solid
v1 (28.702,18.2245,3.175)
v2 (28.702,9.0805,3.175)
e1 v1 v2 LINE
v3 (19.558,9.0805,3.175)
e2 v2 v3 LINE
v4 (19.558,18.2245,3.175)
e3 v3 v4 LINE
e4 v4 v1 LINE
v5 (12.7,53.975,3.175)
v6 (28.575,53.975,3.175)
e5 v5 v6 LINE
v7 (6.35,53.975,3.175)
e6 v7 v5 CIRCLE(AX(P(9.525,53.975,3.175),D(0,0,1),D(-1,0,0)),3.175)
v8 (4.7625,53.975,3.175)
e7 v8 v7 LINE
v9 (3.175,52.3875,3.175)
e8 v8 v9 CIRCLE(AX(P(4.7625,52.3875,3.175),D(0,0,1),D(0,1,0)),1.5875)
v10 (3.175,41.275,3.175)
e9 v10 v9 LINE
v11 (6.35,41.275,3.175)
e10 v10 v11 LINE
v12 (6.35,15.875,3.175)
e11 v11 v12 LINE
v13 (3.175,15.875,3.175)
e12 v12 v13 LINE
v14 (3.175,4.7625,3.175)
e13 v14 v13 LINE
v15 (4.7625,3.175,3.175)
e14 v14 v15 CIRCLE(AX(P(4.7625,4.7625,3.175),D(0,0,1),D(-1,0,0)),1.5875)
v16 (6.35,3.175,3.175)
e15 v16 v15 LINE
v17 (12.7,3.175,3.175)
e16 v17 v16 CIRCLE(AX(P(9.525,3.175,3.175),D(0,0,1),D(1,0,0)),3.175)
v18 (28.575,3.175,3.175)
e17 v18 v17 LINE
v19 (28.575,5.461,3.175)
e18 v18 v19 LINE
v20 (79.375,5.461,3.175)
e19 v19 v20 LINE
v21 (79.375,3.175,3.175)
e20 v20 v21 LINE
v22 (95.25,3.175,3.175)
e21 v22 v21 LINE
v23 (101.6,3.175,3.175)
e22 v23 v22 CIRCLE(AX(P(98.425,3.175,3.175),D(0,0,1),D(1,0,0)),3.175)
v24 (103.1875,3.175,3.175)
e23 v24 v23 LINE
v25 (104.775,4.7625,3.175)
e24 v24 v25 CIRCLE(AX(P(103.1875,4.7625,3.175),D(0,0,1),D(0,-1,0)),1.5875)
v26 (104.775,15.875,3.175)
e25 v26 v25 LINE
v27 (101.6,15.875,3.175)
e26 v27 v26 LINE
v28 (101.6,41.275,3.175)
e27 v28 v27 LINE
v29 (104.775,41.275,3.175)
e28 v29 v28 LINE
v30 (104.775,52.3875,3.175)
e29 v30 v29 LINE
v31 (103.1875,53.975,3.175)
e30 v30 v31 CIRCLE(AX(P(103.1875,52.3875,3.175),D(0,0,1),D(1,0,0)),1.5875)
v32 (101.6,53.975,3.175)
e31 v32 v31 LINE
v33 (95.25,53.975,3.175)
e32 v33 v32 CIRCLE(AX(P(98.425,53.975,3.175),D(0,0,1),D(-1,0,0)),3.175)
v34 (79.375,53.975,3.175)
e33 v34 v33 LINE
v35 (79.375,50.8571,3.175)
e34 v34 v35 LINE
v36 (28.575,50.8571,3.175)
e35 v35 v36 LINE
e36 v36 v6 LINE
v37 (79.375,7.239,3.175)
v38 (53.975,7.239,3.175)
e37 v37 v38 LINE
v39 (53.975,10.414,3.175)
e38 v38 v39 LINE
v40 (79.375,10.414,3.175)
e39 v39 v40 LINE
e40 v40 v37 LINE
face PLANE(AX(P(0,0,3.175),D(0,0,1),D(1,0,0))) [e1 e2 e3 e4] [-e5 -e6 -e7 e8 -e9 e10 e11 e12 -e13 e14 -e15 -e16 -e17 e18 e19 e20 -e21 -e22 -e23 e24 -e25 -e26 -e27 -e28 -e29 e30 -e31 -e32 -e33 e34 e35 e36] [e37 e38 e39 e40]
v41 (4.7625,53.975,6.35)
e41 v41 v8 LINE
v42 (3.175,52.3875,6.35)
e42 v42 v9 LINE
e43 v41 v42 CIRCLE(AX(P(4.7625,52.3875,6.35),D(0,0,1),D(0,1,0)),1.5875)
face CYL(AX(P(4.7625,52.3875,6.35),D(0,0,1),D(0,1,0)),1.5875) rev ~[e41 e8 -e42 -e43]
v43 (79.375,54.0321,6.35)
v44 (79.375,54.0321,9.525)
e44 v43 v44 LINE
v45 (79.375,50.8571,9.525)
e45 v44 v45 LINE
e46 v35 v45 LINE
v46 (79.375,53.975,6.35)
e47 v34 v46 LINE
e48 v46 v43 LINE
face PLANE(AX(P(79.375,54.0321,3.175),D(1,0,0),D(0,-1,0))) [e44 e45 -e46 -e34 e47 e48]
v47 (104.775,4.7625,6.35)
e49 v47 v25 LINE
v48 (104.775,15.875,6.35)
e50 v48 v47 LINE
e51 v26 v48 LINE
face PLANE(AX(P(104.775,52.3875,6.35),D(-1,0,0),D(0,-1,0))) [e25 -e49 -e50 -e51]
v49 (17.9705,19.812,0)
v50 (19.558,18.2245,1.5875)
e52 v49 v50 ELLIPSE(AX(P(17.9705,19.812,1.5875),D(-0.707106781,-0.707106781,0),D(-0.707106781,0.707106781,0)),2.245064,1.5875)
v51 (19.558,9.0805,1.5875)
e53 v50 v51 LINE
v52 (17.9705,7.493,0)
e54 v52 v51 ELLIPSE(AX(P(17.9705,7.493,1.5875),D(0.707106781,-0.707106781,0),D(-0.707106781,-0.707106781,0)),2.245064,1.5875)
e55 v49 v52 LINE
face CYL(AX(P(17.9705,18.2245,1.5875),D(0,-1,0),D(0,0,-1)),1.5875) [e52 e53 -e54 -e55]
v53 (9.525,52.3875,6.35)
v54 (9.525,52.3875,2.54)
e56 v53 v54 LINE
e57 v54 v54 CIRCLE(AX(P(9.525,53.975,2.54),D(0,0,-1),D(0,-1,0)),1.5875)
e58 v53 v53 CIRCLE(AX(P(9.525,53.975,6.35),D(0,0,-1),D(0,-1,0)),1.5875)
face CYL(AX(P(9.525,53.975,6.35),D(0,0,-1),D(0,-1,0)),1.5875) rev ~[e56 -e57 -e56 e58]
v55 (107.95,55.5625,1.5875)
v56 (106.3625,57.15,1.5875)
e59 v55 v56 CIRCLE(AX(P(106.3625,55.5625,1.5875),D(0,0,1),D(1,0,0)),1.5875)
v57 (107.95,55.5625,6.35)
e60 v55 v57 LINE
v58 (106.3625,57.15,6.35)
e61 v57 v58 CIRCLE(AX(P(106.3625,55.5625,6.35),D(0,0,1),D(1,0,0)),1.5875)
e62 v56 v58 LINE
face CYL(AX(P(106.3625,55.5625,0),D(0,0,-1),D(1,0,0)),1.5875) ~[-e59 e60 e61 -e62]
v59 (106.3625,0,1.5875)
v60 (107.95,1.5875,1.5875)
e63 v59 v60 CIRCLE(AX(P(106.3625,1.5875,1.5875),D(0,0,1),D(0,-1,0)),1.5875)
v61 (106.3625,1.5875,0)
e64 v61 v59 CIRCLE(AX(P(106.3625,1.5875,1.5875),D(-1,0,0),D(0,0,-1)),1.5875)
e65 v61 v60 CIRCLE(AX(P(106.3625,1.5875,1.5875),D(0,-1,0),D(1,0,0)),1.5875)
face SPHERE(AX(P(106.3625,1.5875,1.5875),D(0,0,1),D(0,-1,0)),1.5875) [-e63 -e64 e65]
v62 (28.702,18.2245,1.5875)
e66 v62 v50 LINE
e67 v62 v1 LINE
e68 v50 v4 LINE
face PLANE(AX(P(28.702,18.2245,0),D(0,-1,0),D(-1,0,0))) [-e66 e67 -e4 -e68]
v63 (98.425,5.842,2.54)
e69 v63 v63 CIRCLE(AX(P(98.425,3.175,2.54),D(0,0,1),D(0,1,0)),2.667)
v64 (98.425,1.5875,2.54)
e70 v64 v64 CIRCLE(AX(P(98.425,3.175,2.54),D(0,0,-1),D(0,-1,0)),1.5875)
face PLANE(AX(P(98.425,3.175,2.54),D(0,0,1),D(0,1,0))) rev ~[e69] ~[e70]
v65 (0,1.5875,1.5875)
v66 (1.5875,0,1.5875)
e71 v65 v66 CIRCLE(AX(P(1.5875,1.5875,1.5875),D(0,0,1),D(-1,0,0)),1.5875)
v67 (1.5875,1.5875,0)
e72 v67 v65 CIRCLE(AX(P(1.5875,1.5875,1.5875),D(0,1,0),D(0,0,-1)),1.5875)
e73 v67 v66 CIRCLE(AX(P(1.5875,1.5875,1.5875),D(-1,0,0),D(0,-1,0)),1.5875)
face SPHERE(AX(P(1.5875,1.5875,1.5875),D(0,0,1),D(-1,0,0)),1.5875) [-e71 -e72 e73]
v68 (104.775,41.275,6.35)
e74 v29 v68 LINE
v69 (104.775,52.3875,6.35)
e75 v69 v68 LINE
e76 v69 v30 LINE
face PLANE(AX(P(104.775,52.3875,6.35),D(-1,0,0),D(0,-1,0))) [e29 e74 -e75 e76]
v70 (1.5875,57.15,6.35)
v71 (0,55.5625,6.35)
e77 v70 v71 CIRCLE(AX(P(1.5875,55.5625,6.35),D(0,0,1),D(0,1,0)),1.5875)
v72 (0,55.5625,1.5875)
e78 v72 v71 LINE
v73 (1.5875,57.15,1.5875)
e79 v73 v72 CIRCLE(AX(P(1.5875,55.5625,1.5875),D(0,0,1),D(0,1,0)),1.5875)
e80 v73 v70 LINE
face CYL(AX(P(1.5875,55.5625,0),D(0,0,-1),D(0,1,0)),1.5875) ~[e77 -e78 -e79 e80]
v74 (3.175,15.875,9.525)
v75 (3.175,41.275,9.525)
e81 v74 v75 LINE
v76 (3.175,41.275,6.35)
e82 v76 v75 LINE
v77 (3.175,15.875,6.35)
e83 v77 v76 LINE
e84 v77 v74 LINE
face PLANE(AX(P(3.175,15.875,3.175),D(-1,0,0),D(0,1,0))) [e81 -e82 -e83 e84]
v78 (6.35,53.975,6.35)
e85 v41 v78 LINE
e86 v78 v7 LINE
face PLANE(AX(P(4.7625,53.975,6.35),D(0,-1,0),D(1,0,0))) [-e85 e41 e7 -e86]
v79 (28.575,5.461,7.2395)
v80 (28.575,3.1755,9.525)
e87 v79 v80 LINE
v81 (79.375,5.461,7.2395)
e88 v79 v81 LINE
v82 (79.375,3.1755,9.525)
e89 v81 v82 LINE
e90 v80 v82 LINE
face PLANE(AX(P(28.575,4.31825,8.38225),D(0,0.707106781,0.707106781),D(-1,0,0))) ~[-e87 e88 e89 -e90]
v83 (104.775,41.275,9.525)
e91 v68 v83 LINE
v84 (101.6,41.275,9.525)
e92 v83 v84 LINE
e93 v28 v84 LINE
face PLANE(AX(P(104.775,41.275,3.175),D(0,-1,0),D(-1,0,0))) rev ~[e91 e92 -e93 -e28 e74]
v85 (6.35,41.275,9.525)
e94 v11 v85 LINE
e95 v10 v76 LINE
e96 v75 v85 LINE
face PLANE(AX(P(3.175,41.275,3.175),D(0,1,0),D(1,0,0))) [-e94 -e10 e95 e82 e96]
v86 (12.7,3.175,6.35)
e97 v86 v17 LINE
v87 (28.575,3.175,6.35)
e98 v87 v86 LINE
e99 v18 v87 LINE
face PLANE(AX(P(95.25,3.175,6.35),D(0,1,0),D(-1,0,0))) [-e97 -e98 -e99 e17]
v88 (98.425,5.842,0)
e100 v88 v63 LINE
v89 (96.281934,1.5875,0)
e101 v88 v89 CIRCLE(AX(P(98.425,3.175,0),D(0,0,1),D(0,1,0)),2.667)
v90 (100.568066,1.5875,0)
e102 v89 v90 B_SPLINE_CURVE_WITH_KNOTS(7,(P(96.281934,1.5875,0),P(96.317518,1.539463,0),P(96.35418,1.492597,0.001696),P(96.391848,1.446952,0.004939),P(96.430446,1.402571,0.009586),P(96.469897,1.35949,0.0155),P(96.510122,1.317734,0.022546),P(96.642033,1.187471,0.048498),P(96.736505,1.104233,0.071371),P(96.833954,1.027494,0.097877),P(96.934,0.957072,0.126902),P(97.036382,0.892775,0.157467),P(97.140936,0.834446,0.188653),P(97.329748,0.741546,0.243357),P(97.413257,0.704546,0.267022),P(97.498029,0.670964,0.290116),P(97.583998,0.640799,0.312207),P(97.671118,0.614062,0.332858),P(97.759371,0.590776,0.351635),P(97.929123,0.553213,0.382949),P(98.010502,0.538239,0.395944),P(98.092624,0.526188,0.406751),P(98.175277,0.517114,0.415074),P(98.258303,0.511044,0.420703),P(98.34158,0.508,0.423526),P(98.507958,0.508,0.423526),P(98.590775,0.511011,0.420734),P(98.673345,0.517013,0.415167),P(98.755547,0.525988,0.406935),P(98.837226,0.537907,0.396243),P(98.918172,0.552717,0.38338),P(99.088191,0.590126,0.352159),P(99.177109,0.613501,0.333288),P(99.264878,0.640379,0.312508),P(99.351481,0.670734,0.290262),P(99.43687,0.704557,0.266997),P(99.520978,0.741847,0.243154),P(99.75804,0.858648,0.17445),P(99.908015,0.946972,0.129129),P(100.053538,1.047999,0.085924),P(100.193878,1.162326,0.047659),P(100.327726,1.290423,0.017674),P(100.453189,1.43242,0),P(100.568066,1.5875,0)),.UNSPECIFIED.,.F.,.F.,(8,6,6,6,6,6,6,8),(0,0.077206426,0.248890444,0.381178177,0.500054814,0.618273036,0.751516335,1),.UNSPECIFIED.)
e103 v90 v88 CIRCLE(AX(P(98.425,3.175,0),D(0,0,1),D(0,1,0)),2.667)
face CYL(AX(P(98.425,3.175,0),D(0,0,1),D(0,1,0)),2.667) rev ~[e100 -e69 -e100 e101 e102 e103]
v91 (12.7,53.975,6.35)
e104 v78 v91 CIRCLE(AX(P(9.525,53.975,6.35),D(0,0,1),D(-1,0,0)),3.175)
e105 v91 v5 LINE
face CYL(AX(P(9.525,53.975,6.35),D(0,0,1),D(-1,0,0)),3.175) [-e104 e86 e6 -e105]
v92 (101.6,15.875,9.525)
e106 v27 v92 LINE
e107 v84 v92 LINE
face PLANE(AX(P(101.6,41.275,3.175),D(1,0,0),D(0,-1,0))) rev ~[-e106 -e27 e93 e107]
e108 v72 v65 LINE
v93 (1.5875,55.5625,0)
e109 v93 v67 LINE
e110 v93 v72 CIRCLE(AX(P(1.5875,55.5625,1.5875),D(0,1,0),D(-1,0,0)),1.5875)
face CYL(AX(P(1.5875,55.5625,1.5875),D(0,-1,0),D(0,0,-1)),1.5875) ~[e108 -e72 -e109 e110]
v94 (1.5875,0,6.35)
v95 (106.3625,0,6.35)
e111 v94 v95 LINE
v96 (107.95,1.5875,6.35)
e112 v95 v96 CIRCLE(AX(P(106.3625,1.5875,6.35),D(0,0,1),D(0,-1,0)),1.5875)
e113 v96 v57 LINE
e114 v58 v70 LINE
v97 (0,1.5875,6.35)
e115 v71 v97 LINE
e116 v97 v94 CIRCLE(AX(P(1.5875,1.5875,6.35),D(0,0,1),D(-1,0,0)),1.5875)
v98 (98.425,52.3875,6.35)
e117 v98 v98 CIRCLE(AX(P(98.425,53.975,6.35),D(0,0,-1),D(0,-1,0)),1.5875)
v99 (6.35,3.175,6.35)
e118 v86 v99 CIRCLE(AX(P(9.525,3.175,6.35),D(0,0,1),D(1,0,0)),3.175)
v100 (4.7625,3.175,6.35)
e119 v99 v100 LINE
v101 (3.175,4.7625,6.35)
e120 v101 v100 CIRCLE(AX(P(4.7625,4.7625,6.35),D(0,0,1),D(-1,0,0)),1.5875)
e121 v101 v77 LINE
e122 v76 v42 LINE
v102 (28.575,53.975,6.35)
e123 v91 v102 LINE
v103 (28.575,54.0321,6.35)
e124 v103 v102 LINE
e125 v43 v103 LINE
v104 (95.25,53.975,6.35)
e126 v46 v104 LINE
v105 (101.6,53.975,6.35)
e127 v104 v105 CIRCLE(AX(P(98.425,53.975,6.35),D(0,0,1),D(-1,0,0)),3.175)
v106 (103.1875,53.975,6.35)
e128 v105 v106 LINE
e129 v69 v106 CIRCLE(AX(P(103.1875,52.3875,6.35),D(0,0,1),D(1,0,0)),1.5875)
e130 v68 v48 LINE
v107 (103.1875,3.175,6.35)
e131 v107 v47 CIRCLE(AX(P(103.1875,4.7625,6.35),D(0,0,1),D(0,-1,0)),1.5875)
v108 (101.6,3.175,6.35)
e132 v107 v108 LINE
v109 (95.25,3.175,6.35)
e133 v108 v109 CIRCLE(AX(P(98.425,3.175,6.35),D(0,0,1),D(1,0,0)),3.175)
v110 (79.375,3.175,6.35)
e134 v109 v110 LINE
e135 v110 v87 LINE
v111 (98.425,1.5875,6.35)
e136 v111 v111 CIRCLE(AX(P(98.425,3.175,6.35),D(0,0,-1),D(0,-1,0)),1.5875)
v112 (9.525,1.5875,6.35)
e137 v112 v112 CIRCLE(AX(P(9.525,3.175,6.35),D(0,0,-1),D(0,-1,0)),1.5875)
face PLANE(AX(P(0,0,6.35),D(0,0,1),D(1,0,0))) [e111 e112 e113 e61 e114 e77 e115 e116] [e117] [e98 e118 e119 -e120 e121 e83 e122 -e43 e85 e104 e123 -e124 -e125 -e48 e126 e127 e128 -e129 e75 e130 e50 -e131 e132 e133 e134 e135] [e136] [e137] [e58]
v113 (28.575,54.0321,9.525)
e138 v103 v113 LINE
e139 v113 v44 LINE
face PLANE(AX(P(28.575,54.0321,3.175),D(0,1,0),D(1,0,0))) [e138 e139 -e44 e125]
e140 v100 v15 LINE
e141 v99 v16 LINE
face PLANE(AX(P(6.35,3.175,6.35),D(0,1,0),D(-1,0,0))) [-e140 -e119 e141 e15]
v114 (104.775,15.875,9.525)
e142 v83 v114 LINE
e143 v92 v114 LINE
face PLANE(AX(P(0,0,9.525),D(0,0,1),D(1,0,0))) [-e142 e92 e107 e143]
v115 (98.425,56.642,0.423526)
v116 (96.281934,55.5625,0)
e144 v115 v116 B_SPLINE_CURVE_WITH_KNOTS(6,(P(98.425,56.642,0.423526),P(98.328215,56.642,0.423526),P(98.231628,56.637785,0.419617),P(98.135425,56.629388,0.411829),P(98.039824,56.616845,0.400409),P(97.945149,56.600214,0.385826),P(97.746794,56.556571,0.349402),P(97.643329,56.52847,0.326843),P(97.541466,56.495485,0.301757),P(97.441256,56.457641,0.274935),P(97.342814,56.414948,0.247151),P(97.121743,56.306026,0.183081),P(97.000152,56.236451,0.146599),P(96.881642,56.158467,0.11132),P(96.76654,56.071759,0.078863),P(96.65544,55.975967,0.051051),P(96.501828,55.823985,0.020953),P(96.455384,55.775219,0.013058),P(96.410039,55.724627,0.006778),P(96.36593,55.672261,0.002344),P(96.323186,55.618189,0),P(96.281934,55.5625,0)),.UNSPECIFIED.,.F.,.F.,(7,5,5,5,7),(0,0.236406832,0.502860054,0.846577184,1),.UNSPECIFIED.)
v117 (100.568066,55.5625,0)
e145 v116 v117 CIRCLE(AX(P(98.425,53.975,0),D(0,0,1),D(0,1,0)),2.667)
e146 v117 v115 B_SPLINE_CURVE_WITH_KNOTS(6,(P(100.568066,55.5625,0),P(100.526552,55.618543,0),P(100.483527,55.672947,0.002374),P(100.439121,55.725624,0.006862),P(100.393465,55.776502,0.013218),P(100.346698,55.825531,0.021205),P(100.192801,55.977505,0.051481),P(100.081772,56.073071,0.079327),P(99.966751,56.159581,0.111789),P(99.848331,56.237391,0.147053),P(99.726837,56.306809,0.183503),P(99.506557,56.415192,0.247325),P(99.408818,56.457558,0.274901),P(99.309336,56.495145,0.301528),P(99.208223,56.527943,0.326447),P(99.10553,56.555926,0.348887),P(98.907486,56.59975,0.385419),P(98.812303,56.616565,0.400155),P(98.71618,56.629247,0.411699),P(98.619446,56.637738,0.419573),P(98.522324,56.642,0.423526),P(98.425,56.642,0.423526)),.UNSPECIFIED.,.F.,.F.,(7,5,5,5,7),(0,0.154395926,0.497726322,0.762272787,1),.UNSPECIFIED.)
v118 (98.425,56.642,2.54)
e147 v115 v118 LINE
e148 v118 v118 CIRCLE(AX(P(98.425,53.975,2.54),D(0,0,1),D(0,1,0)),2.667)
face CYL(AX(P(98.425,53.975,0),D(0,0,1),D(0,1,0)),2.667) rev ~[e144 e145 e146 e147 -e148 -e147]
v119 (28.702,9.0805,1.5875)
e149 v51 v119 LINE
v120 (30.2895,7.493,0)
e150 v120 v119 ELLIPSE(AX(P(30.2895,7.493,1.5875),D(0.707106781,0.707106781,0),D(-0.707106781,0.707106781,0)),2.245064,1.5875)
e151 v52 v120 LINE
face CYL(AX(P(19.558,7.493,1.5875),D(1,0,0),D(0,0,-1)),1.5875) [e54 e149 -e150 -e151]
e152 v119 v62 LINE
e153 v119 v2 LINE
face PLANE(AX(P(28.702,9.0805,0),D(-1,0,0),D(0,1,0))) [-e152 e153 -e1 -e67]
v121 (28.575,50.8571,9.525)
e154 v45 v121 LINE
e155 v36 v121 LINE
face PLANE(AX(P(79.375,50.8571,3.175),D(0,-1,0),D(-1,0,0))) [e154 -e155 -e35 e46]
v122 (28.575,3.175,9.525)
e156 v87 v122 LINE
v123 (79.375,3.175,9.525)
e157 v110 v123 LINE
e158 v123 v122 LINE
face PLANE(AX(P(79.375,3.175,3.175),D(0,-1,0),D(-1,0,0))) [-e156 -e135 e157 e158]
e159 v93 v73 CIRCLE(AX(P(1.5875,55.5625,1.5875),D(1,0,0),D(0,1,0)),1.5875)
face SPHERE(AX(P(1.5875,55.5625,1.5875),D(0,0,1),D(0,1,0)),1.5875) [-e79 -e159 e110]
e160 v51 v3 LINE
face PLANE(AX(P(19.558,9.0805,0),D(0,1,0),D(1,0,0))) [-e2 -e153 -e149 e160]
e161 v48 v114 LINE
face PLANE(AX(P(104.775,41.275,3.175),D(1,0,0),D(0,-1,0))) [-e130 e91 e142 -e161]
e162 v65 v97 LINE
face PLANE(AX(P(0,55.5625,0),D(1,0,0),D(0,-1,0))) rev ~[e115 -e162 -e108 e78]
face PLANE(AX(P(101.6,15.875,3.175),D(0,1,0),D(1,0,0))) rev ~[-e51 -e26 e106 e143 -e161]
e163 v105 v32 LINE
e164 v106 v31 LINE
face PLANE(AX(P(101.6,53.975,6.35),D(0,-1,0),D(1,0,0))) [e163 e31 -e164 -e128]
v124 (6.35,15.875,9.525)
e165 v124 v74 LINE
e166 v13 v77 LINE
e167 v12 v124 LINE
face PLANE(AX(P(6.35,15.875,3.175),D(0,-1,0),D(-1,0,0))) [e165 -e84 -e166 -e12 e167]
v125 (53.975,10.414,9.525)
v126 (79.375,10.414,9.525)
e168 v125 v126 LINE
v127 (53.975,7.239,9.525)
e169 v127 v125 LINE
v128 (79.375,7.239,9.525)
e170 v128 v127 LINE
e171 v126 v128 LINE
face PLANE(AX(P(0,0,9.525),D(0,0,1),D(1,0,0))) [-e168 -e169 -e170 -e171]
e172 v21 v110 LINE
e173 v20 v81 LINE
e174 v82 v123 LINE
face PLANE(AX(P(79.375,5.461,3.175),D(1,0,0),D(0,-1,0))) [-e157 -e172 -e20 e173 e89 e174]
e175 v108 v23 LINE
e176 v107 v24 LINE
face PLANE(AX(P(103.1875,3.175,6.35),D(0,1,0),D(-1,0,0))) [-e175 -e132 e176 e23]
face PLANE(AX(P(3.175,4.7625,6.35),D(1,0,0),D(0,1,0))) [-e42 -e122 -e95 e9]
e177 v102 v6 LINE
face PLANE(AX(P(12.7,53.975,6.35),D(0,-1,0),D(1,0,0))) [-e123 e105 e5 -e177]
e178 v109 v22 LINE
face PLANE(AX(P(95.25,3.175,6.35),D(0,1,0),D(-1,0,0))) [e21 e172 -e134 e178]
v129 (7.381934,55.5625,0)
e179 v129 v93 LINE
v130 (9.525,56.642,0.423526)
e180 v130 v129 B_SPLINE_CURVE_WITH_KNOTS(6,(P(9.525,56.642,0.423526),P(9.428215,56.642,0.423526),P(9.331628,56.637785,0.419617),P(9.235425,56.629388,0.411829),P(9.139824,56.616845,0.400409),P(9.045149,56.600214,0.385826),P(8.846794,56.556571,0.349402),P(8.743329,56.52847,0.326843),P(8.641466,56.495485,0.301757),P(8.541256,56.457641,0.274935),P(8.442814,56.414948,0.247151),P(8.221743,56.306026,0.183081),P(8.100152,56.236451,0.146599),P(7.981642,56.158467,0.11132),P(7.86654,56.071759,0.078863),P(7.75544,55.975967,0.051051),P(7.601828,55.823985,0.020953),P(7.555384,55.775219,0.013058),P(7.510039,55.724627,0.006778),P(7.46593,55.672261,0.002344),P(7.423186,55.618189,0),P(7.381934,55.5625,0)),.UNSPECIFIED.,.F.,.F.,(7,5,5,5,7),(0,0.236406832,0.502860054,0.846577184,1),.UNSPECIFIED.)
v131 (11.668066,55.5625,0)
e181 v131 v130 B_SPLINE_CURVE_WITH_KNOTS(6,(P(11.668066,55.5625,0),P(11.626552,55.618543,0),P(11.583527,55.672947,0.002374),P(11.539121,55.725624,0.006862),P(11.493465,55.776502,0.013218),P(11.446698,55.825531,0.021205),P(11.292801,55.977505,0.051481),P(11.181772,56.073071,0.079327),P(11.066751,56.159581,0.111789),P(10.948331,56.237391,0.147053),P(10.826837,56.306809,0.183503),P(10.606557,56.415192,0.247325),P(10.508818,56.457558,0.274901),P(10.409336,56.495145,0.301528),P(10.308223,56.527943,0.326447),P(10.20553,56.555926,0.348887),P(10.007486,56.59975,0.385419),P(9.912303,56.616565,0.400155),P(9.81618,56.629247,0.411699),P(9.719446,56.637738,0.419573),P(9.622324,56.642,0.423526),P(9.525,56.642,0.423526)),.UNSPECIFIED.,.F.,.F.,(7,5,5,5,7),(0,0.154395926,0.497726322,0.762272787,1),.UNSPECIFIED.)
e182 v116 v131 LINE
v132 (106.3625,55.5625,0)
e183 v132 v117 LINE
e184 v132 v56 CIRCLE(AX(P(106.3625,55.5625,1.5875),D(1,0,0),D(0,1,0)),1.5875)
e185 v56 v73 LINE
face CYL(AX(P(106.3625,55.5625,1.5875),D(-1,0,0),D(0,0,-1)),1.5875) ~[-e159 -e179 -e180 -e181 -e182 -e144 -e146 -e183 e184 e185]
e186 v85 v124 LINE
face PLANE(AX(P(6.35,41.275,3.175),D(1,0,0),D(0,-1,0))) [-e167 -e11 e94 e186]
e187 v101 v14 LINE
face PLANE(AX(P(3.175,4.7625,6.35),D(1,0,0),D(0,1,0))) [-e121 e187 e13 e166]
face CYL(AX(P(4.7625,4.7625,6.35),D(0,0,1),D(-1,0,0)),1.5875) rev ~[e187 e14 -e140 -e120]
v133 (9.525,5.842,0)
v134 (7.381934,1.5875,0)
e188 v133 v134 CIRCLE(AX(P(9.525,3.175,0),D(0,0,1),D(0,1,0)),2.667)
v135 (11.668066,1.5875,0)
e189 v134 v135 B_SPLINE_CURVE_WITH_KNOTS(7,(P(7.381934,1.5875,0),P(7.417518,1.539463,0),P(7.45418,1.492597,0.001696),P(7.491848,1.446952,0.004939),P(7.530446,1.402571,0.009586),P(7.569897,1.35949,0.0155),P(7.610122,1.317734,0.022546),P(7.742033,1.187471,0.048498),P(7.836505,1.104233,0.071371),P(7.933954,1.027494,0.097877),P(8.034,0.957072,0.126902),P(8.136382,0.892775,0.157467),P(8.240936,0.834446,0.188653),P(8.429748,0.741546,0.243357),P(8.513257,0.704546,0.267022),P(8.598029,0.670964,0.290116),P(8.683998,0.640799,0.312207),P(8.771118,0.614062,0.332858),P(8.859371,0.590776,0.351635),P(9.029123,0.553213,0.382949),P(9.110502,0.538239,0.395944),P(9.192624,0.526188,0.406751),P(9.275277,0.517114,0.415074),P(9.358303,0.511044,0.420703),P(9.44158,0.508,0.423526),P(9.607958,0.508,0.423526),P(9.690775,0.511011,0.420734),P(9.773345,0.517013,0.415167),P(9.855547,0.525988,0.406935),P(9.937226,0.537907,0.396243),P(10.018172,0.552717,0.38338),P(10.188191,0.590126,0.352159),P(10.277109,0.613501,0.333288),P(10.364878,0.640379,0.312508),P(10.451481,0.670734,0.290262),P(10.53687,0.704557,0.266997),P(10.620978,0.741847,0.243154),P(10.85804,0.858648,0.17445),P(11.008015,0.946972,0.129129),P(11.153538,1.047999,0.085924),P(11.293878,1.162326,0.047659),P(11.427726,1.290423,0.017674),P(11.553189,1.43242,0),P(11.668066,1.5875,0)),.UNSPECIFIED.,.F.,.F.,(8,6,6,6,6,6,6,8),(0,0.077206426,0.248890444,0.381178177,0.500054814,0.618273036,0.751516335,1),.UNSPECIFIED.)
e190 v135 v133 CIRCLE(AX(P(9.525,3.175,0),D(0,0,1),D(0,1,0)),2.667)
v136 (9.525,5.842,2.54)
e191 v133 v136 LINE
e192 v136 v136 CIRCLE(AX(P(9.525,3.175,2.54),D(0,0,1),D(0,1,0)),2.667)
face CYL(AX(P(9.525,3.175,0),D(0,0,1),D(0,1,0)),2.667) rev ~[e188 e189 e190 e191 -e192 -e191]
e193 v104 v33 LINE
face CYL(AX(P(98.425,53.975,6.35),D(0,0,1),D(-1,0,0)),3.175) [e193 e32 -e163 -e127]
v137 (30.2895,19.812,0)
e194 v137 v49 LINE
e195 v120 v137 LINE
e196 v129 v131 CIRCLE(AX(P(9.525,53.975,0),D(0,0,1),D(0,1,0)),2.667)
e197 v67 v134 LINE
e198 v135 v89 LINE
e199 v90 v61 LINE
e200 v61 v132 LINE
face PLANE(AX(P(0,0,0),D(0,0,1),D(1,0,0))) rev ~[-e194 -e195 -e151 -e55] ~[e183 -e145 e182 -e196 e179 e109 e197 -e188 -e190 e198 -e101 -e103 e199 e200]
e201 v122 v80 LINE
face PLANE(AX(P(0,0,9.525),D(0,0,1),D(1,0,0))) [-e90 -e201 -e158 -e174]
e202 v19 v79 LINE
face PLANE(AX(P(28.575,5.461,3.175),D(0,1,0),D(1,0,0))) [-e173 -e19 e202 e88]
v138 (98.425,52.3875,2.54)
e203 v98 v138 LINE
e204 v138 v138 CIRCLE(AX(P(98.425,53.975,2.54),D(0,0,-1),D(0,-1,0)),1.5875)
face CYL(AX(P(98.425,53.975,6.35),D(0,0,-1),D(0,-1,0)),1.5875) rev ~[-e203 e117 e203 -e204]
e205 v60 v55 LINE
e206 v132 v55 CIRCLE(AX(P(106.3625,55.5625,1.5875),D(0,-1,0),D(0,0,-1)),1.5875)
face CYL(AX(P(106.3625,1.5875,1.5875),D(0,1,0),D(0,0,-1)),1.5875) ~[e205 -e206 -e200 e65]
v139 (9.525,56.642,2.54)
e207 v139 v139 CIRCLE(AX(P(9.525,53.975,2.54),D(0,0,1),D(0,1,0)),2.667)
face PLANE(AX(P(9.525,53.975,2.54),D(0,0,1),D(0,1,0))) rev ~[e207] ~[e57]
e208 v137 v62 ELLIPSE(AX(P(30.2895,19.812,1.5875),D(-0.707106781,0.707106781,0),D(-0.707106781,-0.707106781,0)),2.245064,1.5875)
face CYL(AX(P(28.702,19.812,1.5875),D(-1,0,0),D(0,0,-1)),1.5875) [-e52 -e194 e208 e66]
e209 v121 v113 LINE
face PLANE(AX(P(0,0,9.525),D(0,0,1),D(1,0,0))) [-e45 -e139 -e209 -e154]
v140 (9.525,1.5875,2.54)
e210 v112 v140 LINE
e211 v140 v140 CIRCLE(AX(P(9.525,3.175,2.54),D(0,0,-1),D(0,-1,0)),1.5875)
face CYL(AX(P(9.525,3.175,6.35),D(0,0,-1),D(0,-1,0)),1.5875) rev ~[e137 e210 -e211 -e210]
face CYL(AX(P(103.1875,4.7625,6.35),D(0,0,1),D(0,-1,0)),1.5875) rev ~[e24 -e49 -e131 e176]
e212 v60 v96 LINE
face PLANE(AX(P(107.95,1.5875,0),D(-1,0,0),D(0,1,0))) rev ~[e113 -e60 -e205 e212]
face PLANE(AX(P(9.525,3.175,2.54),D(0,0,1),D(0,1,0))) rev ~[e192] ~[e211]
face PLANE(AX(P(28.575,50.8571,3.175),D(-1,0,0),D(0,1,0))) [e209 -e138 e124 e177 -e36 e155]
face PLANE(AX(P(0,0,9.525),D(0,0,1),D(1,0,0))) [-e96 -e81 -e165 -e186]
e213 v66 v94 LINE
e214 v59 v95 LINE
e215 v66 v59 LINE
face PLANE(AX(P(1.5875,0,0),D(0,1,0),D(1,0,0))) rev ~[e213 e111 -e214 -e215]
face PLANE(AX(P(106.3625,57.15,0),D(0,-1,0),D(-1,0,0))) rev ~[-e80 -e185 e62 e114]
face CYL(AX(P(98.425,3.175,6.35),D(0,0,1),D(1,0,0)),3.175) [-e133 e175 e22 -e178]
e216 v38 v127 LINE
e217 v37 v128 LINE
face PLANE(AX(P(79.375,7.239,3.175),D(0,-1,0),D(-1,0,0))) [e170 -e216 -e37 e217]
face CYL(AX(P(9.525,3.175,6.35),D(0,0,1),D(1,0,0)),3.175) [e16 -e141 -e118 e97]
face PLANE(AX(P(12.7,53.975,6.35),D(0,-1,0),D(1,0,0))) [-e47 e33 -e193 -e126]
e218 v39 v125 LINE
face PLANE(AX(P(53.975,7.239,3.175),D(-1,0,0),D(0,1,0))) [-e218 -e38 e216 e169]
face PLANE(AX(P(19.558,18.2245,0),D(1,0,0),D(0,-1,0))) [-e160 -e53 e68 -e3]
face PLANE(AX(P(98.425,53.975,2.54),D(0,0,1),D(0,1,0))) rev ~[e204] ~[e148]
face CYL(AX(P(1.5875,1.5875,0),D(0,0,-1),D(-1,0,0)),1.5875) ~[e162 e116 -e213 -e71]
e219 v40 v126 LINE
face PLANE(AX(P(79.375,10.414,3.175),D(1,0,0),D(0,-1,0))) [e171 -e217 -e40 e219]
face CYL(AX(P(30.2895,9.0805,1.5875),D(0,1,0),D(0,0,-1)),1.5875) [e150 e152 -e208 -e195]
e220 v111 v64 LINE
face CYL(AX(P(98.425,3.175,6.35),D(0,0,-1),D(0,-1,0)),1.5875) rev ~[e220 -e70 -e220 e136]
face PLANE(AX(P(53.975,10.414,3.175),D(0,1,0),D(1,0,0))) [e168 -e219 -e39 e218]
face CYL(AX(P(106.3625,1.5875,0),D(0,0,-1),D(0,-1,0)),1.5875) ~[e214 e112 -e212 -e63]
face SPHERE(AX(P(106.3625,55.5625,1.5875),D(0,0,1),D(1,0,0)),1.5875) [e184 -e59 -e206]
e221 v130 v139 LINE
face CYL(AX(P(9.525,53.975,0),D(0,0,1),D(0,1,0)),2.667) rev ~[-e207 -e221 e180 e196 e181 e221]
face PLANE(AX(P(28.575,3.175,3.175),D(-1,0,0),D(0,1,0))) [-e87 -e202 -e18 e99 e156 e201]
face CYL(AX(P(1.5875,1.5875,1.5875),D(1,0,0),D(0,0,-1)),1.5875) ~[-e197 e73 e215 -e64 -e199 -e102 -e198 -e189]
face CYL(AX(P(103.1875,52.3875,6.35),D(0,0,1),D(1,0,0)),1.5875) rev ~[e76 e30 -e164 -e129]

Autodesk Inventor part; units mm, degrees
ref_plane "YZ Plane" through (0, 0, 0) normal (1, 0, 0) x (0, 1, 0)
ref_plane "XZ Plane" through (0, 0, 0) normal (0, 1, 0) x (-1, 0, 0)
ref_plane "XY Plane" through (0, 0, 0) normal (0, 0, 1) x (1, 0, 0)
sketch "Sketch1" plane through (0, 0, 0) normal (0, 0, 1) x (1, 0, 0)
  line L0 (1.5875, 0) -> (106.3625, 0)
  line L1 (107.95, 1.5875) -> (107.95, 55.5625)
  line L2 (106.3625, 57.15) -> (1.5875, 57.15)
  line L3 (0, 55.5625) -> (0, 1.5875)
  arc A0 (1.5875, 57.15) -> (0, 55.5625) centre (1.5875, 55.5625) ccw
  arc A1 (107.95, 55.5625) -> (106.3625, 57.15) centre (106.3625, 55.5625) ccw
  arc A2 (106.3625, 0) -> (107.95, 1.5875) centre (106.3625, 1.5875) ccw
  arc A3 (0, 1.5875) -> (1.5875, 0) centre (1.5875, 1.5875) ccw
  point P0 (0, 0)
  point P1 (107.95, 0)
  point P2 (0, 57.15)
  dimension "d0" = 57.15
  dimension "d1" = 107.95
  dimension "d2" = 1.5875
  dimension "d3" = 1.5875
extrude "Extrusion1" add sketch "Sketch1" along normal blind 6.35
sketch "Sketch2" plane through (0, 0, 6.35) normal (0, 0, 1) x (1, 0, 0)
  line L0 (104.775, 52.3875) -> (104.775, 4.7625)
  line L1 (3.175, 4.7625) -> (3.175, 52.3875)
  arc A0 (4.7625, 53.975) -> (3.175, 52.3875) centre (4.7625, 52.3875) ccw
  arc A1 (104.775, 52.3875) -> (103.1875, 53.975) centre (103.1875, 52.3875) ccw
  arc A2 (103.1875, 3.175) -> (104.775, 4.7625) centre (103.1875, 4.7625) ccw
  arc A3 (3.175, 4.7625) -> (4.7625, 3.175) centre (4.7625, 4.7625) ccw
  line L2 (106.3625, 57.15) -> (1.5875, 57.15) projected
  line L3 (107.95, 1.5875) -> (107.95, 55.5625) projected
  line L4 (1.5875, 0) -> (106.3625, 0) projected
  line L5 (0, 55.5625) -> (0, 1.5875) projected
  arc A4 (6.35, 53.975) -> (12.7, 53.975) centre (9.525, 53.975) ccw
  arc A5 (95.25, 53.975) -> (101.6, 53.975) centre (98.425, 53.975) ccw
  arc A6 (101.6, 3.175) -> (95.25, 3.175) centre (98.425, 3.175) ccw
  arc A7 (12.7, 3.175) -> (6.35, 3.175) centre (9.525, 3.175) ccw
  line L6 (4.7625, 53.975) -> (6.35, 53.975)
  line L7 (12.7, 53.975) -> (95.25, 53.975)
  line L8 (101.6, 53.975) -> (103.1875, 53.975)
  line L9 (103.1875, 3.175) -> (101.6, 3.175)
  line L10 (95.25, 3.175) -> (12.7, 3.175)
  line L11 (6.35, 3.175) -> (4.7625, 3.175)
  point P0 (0, 0)
  dimension "d6" = 1.5875
  dimension "d8" = 3.175
  dimension "d10" = 3.175
  dimension "d11" = 6.35
  dimension "d12" = 6.35
  dimension "d43" = 3.175
extrude "Extrusion2" cut sketch "Sketch2" against normal blind 3.175
fillet "Fillet1" radius 1.5875 8 edges at (0.465, 56.685, 0) (0, 28.575, 0) (0.465, 0.465, 0) (53.975, 0, 0) (107.485, 0.465, 0) (107.95, 28.575, 0) (107.485, 56.685, 0) (53.975, 57.15, 0)
sketch "Sketch3" plane through (0, 0, 3.175) normal (0, 0, 1) x (1, 0, 0)
  line L0 (28.575, 54.0321) -> (79.375, 54.0321)
  line L1 (79.375, 54.0321) -> (79.375, 50.8571)
  line L2 (79.375, 50.8571) -> (28.575, 50.8571)
  line L3 (28.575, 50.8571) -> (28.575, 54.0321)
  line L4 (3.175, 4.7625) -> (3.175, 52.3875) projected
  line L5 (3.175, 41.275) -> (6.35, 41.275)
  line L6 (6.35, 41.275) -> (6.35, 15.875)
  line L7 (6.35, 15.875) -> (3.175, 15.875)
  line L8 (3.175, 15.875) -> (3.175, 41.275)
  line L9 (104.775, 52.3875) -> (104.775, 4.7625) projected
  line L10 (104.775, 41.275) -> (101.6, 41.275)
  line L11 (101.6, 41.275) -> (101.6, 15.875)
  line L12 (101.6, 15.875) -> (104.775, 15.875)
  line L13 (104.775, 15.875) -> (104.775, 41.275)
  line L14 (95.25, 3.175) -> (12.7, 3.175) projected
  line L15 (79.375, 3.175) -> (28.575, 3.175)
  line L16 (28.575, 3.175) -> (28.575, 5.461)
  line L17 (28.575, 5.461) -> (79.375, 5.461)
  line L18 (79.375, 5.461) -> (79.375, 3.175)
  line L19 (103.1875, 3.175) -> (101.6, 3.175) projected
  line L20 (101.6, 53.975) -> (103.1875, 53.975) projected
  point P0 (0, 0)
  point P1 (28.575, 4.318)
  point P2 (79.375, 4.318)
  point P3 (79.375, 52.4446)
  point P4 (4.7625, 41.275)
  point P5 (103.1875, 41.275)
  point P6 (103.1875, 15.875)
  point P7 (4.7625, 15.875)
  point P8 (102.3937, 3.175)
  dimension "d16" = 25.4
  dimension "d17" = 25.4
  dimension "d18" = 2.286
  dimension "d19" = 3.175
  dimension "d20" = 3.175
  dimension "d21" = 3.175
  dimension "d22" = 12.7
  dimension "d23" = 12.7
extrude "Extrusion3" add sketch "Sketch3" along normal blind 6.35
hole "Hole1" at (9.525, 53.975, 6.35) at (98.425, 53.975, 6.35) at (98.425, 3.175, 6.35) at (9.525, 3.175, 6.35) direction (0, 0, -1) diameter 3.175 end through all
sketch "Sketch5" plane through (0, 0, 0) normal (0, 0, -1) x (-1, 0, 0)
  line L0 (-28.702, 18.2245) -> (-19.558, 18.2245)
  line L1 (-19.558, 18.2245) -> (-19.558, 9.0805)
  line L2 (-19.558, 9.0805) -> (-28.702, 9.0805)
  line L3 (-28.702, 9.0805) -> (-28.702, 18.2245)
  line L4 (-1.5875, 1.5875) -> (-106.3625, 1.5875) projected
  line L5 (-1.5875, 55.5625) -> (-1.5875, 1.5875) projected
  point P0 (0, 0)
  point P1 (-24.13, 9.0805)
  dimension "d36" = 7.493
  dimension "d37" = 17.9705
  dimension "d38" = 9.144
  dimension "d39" = 9.144
extrude "Extrusion4" cut sketch "Sketch5" against normal blind 6.35
fillet "Fillet2" radius 1.5875 4 edges at (24.13, 18.2245, 0) (19.558, 13.6525, 0) (28.702, 13.6525, 0) (24.13, 9.0805, 0)
sketch "Sketch7" plane through (0, 0, 3.175) normal (0, 0, 1) x (1, 0, 0)
  line L0 (79.375, 7.239) -> (53.975, 7.239)
  line L1 (53.975, 7.239) -> (53.975, 10.414)
  line L2 (53.975, 10.414) -> (79.375, 10.414)
  line L3 (79.375, 10.414) -> (79.375, 7.239)
  line L4 (79.375, 3.175) -> (79.375, 6.35) projected
  line L5 (28.575, 5.461) -> (79.375, 5.461) projected
  point P0 (0, 0)
  point P1 (79.375, 5.461)
  dimension "d48" = 3.175
  dimension "d49" = 25.4
  dimension "d50" = 0
  dimension "d51" = 1.778
extrude "Extrusion6" add sketch "Sketch7" along normal blind 6.35
chamfer "Chamfer2" distance 2.286 angle 45 1 edges at (53.975, 5.461, 9.525)
sketch "Sketch8" plane through (0, 0, 0) normal (0, 0, -1) x (-1, 0, 0)
  circle A0 centre (-98.425, 53.975) radius 1.5875 projected
  circle A1 centre (-9.525, 53.975) radius 1.5875 projected
  circle A2 centre (-9.525, 3.175) radius 1.5875 projected
  arc A3 (-95.25, 3.175) -> (-101.6, 3.175) centre (-98.425, 3.175) ccw projected
  point P0 (0, 0)
  point P1 (-9.525, 1.5875)
hole "Hole2" at (98.425, 53.975, 0) at (9.525, 53.975, 0) at (9.525, 3.175, 0) at (98.425, 3.175, 0) direction (0, 0, 1) diameter 3.175 depth 6.35 tip angle 118 counterbore diameter 5.334 counterbore depth 2.54
properties part number "Case_Rear"
